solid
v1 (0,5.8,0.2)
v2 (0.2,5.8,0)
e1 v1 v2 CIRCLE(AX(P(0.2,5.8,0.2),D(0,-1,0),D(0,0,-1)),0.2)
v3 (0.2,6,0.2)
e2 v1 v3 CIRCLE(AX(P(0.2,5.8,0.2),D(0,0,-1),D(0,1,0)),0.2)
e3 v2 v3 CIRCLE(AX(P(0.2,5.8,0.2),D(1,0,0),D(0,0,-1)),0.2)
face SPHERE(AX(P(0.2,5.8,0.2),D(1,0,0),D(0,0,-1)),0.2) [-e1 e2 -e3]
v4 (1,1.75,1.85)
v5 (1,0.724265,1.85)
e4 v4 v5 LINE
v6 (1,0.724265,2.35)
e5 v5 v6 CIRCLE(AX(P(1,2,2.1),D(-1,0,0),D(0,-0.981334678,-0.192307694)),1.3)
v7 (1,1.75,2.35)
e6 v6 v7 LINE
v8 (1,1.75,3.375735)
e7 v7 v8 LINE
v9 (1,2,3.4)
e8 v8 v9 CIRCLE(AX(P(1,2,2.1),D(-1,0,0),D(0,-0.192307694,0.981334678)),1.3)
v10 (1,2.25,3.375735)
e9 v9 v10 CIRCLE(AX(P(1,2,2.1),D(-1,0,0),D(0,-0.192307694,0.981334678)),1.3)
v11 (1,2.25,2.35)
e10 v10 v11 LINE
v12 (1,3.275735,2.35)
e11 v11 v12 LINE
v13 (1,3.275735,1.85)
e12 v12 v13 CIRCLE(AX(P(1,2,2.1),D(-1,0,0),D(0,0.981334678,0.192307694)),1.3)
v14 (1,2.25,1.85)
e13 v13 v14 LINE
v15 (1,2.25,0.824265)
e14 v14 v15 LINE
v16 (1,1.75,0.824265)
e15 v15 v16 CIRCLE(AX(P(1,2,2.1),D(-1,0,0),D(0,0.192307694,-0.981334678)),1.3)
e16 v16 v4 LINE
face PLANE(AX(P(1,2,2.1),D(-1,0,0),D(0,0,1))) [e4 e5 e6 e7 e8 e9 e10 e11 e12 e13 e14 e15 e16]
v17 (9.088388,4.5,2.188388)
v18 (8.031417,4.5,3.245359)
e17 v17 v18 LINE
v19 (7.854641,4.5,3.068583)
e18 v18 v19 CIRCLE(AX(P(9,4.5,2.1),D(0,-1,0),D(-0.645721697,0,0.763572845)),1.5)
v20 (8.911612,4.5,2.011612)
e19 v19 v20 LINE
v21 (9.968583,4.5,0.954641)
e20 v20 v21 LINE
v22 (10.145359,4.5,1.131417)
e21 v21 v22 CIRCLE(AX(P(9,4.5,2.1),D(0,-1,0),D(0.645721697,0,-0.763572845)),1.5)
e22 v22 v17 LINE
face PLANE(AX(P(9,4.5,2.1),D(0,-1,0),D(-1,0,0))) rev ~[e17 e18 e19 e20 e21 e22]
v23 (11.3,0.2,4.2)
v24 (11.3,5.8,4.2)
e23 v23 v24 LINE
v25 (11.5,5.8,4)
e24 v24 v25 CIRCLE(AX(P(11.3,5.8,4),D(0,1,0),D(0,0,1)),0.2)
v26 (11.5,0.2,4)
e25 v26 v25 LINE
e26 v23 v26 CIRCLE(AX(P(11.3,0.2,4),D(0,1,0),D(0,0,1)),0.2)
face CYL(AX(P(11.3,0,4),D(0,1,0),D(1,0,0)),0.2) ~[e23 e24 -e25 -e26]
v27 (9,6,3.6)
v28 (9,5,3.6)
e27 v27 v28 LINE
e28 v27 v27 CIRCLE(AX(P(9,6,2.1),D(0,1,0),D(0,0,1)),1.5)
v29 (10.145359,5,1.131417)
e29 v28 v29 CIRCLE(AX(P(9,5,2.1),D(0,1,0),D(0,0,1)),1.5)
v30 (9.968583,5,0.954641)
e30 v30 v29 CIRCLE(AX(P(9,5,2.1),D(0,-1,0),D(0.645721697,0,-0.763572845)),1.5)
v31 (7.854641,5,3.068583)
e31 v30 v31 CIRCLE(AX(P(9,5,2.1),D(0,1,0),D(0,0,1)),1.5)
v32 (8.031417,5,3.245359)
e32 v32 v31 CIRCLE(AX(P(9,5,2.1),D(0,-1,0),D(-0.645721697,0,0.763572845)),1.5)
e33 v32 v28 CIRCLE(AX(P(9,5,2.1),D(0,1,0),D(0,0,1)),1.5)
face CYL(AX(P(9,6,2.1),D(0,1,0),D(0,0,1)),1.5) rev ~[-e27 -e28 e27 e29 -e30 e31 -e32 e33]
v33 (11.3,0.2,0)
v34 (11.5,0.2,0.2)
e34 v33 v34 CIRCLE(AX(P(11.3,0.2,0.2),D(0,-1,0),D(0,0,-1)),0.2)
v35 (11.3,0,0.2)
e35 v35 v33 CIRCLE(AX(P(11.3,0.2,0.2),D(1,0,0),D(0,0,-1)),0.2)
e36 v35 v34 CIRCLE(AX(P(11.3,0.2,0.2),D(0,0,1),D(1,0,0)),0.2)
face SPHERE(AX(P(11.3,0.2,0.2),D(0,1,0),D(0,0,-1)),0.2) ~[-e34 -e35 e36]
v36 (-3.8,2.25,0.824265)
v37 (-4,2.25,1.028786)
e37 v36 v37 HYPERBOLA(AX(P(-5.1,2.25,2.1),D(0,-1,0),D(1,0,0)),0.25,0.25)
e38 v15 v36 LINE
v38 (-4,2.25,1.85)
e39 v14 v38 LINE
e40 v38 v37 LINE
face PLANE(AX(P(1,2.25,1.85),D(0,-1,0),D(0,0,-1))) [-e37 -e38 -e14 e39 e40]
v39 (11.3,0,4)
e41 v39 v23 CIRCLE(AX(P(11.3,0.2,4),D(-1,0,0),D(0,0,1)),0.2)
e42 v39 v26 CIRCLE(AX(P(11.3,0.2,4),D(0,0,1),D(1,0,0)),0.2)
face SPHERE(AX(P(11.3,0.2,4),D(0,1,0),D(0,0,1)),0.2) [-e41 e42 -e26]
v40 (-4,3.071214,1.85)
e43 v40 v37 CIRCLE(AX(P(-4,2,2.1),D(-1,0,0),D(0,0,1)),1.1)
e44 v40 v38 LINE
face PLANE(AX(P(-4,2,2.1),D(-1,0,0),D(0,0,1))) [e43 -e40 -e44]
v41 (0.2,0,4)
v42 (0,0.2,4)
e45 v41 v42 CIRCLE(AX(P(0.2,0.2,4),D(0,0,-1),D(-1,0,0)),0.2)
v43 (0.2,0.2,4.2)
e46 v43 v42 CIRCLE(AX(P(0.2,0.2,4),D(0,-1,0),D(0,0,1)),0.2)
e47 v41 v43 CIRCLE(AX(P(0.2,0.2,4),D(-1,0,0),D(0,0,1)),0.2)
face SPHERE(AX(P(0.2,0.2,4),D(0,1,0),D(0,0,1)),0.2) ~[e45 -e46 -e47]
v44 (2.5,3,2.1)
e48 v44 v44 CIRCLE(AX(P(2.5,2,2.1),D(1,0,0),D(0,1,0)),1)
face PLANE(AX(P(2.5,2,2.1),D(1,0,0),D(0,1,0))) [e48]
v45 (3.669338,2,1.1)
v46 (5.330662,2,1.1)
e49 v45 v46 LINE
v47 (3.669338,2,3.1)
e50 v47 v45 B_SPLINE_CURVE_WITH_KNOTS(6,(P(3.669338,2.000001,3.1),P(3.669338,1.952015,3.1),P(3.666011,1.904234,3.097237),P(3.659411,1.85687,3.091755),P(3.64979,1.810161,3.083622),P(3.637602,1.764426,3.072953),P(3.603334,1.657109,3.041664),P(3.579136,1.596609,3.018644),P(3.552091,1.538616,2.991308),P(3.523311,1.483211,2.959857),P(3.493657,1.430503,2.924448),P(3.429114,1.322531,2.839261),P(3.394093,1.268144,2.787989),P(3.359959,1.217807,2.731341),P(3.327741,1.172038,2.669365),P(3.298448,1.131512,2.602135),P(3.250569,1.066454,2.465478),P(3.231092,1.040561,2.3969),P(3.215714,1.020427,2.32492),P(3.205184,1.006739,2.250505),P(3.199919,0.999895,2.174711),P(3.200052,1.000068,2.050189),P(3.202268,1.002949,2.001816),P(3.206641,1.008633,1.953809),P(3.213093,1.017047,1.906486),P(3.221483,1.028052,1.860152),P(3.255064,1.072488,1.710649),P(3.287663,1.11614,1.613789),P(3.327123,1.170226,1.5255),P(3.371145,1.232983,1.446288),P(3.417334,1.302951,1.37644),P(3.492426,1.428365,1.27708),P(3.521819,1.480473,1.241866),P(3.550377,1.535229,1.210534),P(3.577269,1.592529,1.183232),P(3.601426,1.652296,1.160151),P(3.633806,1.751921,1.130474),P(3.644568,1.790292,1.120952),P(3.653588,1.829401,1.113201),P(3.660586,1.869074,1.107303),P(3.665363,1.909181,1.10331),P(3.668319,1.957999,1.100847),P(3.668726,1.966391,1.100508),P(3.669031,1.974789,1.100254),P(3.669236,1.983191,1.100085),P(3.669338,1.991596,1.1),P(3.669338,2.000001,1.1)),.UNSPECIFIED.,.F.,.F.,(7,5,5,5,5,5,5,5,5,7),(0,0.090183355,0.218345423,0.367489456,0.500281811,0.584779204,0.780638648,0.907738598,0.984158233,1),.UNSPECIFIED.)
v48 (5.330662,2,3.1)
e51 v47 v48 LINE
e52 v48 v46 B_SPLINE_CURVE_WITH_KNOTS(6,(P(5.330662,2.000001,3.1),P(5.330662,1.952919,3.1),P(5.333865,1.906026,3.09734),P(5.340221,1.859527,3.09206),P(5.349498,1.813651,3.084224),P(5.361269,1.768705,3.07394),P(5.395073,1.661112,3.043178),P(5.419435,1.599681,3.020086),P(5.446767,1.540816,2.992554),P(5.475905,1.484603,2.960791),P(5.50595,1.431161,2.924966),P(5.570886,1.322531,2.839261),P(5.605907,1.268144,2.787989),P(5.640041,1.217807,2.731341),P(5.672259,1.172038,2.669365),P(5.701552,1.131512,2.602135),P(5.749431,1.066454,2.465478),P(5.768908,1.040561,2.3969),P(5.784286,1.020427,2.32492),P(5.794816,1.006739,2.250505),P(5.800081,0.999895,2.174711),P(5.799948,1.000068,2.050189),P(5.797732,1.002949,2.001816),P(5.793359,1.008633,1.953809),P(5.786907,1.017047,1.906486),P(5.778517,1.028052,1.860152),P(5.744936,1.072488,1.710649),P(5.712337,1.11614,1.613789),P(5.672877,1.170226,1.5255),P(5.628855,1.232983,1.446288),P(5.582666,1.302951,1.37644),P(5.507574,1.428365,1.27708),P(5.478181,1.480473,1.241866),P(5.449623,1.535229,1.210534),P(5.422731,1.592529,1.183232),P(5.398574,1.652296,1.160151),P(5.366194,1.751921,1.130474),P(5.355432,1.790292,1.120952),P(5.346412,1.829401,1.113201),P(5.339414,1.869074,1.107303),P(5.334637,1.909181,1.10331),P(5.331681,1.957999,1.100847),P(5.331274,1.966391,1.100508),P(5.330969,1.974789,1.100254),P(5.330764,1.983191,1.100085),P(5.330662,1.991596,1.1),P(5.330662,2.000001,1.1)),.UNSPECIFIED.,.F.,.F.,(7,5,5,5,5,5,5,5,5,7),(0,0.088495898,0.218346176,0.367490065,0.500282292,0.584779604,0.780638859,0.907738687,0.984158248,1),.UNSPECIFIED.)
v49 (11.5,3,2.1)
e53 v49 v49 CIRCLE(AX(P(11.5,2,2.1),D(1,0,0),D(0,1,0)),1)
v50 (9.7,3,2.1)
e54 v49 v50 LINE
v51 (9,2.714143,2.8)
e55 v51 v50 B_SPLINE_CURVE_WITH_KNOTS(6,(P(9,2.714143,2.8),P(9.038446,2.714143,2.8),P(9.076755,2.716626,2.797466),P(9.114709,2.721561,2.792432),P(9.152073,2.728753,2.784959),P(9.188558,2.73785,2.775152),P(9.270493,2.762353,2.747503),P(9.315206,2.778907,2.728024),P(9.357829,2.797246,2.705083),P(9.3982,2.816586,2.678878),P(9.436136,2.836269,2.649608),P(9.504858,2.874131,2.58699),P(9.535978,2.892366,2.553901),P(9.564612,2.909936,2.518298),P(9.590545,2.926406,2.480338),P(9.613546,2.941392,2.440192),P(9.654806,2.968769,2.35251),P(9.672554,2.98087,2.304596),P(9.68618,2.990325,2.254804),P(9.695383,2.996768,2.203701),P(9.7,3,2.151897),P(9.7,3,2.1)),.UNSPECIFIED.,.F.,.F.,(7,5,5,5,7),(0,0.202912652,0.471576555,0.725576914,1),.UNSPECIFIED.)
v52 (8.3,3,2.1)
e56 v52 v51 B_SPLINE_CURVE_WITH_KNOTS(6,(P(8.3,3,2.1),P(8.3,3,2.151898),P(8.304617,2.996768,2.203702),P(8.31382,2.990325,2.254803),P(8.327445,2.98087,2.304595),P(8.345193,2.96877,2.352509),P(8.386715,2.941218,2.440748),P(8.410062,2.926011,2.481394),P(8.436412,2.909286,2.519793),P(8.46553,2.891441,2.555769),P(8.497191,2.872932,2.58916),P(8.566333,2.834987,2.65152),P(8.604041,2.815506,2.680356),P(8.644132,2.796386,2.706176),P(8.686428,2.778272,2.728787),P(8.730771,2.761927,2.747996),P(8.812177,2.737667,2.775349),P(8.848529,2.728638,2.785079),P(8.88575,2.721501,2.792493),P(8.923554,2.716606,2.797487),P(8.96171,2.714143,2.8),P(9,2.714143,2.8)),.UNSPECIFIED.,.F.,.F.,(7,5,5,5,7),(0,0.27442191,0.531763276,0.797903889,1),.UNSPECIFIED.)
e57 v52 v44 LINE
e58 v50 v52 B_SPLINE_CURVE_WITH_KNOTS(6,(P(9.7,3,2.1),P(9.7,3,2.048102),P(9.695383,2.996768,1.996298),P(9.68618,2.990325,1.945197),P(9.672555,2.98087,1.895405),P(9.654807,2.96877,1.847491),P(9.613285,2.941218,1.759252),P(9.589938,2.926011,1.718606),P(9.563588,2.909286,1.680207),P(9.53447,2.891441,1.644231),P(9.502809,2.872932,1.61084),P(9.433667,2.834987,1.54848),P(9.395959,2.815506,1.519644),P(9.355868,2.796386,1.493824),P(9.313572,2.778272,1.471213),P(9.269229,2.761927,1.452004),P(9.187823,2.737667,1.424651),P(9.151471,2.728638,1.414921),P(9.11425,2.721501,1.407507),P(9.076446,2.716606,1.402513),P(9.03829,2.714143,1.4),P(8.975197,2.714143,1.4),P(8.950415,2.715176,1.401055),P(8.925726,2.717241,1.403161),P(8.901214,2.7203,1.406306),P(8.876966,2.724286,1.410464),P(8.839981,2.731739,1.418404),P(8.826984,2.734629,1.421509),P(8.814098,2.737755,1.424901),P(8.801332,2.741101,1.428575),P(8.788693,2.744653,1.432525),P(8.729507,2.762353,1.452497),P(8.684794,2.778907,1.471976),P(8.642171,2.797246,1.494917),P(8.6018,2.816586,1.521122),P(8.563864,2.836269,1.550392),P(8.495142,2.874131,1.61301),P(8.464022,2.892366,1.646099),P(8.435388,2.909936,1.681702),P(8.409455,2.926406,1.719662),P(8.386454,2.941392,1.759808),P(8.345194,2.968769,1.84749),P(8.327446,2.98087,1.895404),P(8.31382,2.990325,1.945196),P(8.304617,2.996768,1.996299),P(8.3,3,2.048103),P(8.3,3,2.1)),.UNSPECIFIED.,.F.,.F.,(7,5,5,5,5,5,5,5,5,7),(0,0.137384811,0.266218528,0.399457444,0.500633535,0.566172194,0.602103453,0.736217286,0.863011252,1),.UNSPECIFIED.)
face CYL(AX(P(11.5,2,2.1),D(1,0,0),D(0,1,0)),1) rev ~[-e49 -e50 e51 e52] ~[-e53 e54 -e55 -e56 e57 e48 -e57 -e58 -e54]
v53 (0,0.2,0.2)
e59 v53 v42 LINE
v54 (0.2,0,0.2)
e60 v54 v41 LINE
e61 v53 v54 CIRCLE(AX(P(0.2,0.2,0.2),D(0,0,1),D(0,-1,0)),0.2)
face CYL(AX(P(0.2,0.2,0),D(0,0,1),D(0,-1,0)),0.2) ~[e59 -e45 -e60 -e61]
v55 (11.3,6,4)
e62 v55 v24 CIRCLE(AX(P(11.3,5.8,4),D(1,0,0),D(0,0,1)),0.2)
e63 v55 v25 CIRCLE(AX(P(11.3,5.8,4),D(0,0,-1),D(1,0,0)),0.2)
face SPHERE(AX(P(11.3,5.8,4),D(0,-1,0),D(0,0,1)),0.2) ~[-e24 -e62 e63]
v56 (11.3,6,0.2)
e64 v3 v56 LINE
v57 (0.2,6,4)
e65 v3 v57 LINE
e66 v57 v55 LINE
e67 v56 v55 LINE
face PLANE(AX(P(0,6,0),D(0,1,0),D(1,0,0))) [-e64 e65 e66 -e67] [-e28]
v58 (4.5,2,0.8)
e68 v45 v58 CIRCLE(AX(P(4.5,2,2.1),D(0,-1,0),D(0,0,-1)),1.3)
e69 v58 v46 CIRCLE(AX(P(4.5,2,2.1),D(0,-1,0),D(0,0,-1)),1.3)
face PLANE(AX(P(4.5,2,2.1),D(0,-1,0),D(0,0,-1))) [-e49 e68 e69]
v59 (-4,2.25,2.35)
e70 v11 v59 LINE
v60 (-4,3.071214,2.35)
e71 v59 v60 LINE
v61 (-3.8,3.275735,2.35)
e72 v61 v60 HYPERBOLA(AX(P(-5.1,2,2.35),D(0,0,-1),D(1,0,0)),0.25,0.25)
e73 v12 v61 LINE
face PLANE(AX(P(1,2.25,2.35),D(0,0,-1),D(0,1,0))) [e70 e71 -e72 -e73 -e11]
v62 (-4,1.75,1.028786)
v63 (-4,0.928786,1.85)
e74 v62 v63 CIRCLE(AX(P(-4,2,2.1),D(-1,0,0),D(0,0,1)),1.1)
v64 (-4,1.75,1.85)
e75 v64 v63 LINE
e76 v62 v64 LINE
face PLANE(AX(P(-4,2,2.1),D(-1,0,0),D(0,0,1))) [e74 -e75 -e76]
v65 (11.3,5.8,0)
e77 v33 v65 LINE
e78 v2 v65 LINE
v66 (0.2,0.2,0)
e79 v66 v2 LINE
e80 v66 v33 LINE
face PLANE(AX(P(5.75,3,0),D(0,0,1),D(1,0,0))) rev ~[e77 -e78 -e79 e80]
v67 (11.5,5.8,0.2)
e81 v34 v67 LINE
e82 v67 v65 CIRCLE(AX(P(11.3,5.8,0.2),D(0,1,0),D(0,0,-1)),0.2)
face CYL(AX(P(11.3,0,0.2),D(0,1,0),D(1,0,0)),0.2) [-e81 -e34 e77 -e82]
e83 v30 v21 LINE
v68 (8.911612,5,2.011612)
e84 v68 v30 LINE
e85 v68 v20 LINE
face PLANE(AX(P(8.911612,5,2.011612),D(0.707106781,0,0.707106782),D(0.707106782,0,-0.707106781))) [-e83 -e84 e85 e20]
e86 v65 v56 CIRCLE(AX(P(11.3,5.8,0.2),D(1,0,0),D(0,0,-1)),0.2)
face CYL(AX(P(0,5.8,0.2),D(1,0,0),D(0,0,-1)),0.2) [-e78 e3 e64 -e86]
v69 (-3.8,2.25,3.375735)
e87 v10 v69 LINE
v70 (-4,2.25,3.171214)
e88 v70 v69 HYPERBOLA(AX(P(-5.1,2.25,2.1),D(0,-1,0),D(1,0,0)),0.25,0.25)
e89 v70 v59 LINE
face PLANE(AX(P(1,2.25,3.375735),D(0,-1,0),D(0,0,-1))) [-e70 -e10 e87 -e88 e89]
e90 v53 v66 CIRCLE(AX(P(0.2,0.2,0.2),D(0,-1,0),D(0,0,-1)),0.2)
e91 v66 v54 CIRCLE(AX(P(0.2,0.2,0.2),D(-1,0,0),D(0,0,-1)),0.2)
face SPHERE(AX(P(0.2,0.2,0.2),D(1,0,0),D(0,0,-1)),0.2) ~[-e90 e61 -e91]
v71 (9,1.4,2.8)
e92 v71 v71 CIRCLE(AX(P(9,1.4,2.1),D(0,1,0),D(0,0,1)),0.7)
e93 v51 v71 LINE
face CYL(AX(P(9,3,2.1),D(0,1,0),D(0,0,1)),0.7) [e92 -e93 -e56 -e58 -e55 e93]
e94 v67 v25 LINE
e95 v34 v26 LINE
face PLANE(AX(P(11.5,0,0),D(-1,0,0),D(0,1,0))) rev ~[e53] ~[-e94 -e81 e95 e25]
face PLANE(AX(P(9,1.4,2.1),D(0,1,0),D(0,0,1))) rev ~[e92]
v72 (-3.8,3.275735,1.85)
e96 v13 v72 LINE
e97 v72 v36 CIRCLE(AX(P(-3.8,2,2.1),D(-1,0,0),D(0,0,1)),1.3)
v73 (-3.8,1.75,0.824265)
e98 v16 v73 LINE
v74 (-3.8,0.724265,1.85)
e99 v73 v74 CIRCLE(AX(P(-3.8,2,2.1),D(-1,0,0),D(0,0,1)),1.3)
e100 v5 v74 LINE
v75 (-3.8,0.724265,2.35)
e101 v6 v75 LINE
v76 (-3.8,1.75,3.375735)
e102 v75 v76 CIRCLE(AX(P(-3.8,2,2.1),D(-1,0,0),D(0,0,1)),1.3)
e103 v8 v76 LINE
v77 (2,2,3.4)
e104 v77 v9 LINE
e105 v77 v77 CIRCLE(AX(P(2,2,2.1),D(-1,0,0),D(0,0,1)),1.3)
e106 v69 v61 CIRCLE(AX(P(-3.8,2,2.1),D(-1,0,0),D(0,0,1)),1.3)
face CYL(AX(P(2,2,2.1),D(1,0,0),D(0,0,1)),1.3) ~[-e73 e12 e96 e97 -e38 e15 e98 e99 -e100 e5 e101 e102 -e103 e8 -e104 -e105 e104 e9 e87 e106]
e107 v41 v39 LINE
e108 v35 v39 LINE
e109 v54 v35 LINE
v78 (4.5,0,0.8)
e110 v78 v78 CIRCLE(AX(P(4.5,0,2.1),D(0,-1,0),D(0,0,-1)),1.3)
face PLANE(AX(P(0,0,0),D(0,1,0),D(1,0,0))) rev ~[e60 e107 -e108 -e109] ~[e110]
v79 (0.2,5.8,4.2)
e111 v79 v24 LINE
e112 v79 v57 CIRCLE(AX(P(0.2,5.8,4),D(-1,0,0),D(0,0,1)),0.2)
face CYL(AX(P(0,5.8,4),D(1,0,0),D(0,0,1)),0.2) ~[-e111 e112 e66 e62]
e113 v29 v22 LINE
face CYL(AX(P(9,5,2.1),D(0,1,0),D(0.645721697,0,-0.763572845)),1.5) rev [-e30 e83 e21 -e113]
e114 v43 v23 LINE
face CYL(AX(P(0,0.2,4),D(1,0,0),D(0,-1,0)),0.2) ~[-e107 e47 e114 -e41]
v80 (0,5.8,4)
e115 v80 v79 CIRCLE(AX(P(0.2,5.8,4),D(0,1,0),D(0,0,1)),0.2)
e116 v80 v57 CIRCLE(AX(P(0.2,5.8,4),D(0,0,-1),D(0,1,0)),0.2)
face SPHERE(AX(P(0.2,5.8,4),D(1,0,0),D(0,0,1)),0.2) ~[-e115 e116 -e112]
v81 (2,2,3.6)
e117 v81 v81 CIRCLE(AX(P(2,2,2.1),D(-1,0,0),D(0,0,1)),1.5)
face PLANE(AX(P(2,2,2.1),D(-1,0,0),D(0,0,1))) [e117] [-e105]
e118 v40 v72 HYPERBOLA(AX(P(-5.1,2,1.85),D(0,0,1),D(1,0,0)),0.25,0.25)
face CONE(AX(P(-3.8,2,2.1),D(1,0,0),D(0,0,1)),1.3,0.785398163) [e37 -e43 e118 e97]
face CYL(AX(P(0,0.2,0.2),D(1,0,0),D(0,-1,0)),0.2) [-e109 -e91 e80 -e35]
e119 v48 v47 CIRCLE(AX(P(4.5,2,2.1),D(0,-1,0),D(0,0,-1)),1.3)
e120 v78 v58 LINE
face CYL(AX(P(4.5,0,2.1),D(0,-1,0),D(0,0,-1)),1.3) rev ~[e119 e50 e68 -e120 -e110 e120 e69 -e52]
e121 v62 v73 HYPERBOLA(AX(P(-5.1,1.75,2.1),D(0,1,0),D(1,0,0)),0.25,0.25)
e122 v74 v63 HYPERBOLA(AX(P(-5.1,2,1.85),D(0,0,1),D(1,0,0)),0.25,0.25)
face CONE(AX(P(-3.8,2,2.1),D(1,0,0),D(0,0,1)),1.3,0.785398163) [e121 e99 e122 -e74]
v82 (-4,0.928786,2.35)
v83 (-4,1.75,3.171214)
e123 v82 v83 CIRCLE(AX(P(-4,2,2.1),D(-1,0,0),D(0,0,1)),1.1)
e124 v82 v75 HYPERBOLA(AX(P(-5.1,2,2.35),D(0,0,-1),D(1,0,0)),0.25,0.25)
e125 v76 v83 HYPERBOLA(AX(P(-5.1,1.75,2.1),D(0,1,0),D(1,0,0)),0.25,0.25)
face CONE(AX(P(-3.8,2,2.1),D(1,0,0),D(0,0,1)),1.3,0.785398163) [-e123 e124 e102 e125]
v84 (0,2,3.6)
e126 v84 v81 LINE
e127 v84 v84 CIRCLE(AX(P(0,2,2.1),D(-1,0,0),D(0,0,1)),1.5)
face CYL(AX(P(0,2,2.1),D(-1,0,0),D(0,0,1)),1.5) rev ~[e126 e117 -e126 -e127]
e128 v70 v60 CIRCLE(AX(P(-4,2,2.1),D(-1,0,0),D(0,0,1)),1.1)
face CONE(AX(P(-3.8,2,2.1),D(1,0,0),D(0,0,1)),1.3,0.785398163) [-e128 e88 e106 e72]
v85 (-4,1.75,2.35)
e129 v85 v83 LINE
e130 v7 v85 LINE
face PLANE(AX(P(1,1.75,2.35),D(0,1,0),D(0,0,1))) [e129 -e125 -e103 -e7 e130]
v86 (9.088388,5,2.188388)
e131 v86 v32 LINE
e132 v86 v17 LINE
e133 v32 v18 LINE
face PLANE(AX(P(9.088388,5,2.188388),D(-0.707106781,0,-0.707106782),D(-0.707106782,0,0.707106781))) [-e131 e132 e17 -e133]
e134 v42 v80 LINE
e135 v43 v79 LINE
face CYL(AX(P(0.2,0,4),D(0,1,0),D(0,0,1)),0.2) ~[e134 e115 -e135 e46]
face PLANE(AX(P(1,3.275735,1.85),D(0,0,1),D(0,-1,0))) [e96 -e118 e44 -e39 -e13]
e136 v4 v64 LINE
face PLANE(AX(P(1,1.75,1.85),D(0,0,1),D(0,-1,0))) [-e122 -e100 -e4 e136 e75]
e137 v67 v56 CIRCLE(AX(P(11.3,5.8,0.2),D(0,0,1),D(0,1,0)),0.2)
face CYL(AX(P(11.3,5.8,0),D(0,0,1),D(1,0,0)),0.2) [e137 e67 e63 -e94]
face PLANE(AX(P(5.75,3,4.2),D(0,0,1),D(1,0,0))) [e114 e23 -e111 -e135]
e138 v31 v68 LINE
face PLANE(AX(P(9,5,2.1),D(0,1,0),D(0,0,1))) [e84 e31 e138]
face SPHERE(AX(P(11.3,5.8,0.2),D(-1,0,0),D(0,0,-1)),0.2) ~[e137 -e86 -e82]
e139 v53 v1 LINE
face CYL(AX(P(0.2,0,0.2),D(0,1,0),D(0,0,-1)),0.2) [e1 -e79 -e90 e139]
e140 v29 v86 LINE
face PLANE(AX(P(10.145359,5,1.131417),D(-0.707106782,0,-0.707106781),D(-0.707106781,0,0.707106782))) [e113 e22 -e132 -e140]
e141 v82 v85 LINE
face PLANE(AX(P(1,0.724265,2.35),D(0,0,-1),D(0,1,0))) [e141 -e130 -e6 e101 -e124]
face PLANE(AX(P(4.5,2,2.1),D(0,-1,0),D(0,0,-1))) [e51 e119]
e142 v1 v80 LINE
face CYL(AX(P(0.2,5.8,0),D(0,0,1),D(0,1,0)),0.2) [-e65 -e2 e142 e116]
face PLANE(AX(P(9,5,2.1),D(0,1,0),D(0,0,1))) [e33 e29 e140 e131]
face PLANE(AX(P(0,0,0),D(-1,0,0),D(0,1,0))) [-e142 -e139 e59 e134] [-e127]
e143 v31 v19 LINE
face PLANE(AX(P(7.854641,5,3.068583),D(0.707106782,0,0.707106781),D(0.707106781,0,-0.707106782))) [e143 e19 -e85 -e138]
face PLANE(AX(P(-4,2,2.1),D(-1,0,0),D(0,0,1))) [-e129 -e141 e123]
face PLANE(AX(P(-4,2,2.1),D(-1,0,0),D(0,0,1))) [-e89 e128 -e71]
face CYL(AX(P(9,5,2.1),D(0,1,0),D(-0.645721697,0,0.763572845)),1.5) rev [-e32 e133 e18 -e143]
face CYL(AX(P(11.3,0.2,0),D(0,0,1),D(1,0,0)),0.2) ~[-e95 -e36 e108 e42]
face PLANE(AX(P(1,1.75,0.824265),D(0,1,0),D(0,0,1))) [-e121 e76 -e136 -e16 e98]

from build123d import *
from build123d.topology import SkipClean

# Parameters (mm, degrees)
SKETCH_1_W          = 11.5
SKETCH_1_H          = 6
EXTRUDE_1_DEPTH     = 4.2
SKETCH_2_R          = 1.5
CUT_EXTRUDE_1_DEPTH = 2
SKETCH_3_R          = 1.3
EXTRUDE_2_DEPTH     = 6
CHAMFER_1_SIZE      = 0.2
CUT_EXTRUDE_START   = -5
CUT_EXTRUDE_2_DEPTH = 5
SKETCH_5_R          = 1
CUT_EXTRUDE_3_DEPTH = 9
SKETCH_6_R          = 1.3
CUT_EXTRUDE_4_DEPTH = 2
SKETCH_7_R          = 1.5
CUT_EXTRUDE_5_DEPTH = 1
CUT_EXTRUDE_6_DEPTH = 0.5
EXTRUDE_START       = -3
SKETCH_9_R          = 0.7
EXTRUDE_3_DEPTH     = 1.6
FILLET_1_R          = 0.2


with BuildPart() as part:
    # 草图1 → 凸台-拉伸1 (new body)
    with BuildSketch(Plane.XY):
        with Locations((5.75, 3)):
            Rectangle(SKETCH_1_W, SKETCH_1_H)
    extrude(amount=EXTRUDE_1_DEPTH)

    # 草图2 → 切除-拉伸1 (cut)
    with BuildSketch(Plane.ZY):
        with Locations((2.1, 2)):
            Circle(SKETCH_2_R)
    extrude(amount=-CUT_EXTRUDE_1_DEPTH, mode=Mode.SUBTRACT)

    # 草图3 → 凸台-拉伸2 (add)
    with BuildSketch(Plane.ZY.offset(-2)):
        with Locations((2.1, 2)):
            Circle(SKETCH_3_R)
    extrude(amount=EXTRUDE_2_DEPTH)

    # 倒角1
    chamfer_1_edges = [part.edges().sort_by_distance(p)[0] for p in [
        (-4, 2, 0.8),
    ]]
    chamfer(chamfer_1_edges, length=CHAMFER_1_SIZE)

    # 草图4 → 切除-拉伸2 (cut)
    with BuildSketch(Plane.ZY.offset(4).offset(CUT_EXTRUDE_START)):
        with BuildLine():
            Line((1.85, 3.275735082), (1.85, 2.25))
            Line((1.85, 2.25), (0.824264918, 2.25))
            ThreePointArc((0.824264918, 2.25), (0.8, 2), (0.824264918, 1.75))
            Line((0.824264918, 1.75), (1.85, 1.75))
            Line((1.85, 1.75), (1.85, 0.724264918))
            ThreePointArc((1.85, 0.724264918), (2.1, 0.7), (2.35, 0.724264918))
            Line((2.35, 0.724264918), (2.35, 1.75))
            Line((2.35, 1.75), (3.375735082, 1.75))
            ThreePointArc((3.375735082, 1.75), (3.4, 2), (3.375735082, 2.25))
            Line((3.375735082, 2.25), (2.35, 2.25))
            Line((2.35, 2.25), (2.35, 3.275735082))
            ThreePointArc((2.35, 3.275735082), (2.1, 3.3), (1.85, 3.275735082))
        make_face()
    extrude(amount=CUT_EXTRUDE_2_DEPTH, mode=Mode.SUBTRACT)

    # 草图5 → 切除-拉伸3 (cut)
    with BuildSketch(Plane(origin=(11.5, 0, 0), x_dir=(0, 0, -1), z_dir=(1, 0, 0))):
        with Locations((-2.1, 2)):
            Circle(SKETCH_5_R)
    extrude(amount=-CUT_EXTRUDE_3_DEPTH, mode=Mode.SUBTRACT)

    # 草图6 → 切除-拉伸4 (cut)
    with BuildSketch(Plane.XZ):
        with Locations((4.5, 2.1)):
            Circle(SKETCH_6_R)
    extrude(amount=-CUT_EXTRUDE_4_DEPTH, mode=Mode.SUBTRACT)

    # 草图7 → 切除-拉伸5 (cut)
    with BuildSketch(Plane(origin=(0, 6, 0), x_dir=(1, 0, 0), z_dir=(0, 1, 0))):
        with Locations((9, -2.1)):
            Circle(SKETCH_7_R)
    extrude(amount=-CUT_EXTRUDE_5_DEPTH, mode=Mode.SUBTRACT)

    # 草图8 → 切除-拉伸6 (cut)
    with SkipClean():  # the faces are left unmerged after this step: merging them gives an invalid solid
        with BuildSketch(Plane(origin=(0, 5, 0), x_dir=(1, 0, 0), z_dir=(0, 1, 0))):
            with BuildLine():
                Line((9.088388348, -2.188388348), (8.03141744, -3.245359255))
                ThreePointArc((8.03141744, -3.245359255), (7.939339828, -3.160660172), (7.854640745, -3.06858256))
                Line((7.854640745, -3.06858256), (8.911611652, -2.011611652))
                Line((8.911611652, -2.011611652), (9.96858256, -0.954640745))
                ThreePointArc((9.96858256, -0.954640745), (10.060660172, -1.039339828), (10.145359255, -1.13141744))
                Line((10.145359255, -1.13141744), (9.088388348, -2.188388348))
            make_face()
        extrude(amount=-CUT_EXTRUDE_6_DEPTH, mode=Mode.SUBTRACT)

    # 草图9 → 凸台-拉伸3 (add)
    with SkipClean():  # the faces are left unmerged after this step: merging them gives an invalid solid
        with BuildSketch(Plane(origin=(0, 6, 0), x_dir=(1, 0, 0), z_dir=(0, 1, 0)).offset(EXTRUDE_START)):
            with Locations((9, -2.1)):
                Circle(SKETCH_9_R)
        extrude(amount=-EXTRUDE_3_DEPTH)

    # 圆角1
    fillet_1_edges = [part.edges().sort_by_distance(p)[0] for p in [
        (0, 0, 2.1),
        (0, 3, 0),
        (5.75, 6, 0),
        (5.75, 0, 0),
        (11.5, 3, 0),
        (11.5, 0, 2.1),
        (11.5, 6, 2.1),
        (11.5, 3, 4.2),
        (5.75, 0, 4.2),
        (5.75, 6, 4.2),
        (0, 6, 2.1),
        (0, 3, 4.2),
    ]]
    fillet(fillet_1_edges, radius=FILLET_1_R)


solid = part.part
